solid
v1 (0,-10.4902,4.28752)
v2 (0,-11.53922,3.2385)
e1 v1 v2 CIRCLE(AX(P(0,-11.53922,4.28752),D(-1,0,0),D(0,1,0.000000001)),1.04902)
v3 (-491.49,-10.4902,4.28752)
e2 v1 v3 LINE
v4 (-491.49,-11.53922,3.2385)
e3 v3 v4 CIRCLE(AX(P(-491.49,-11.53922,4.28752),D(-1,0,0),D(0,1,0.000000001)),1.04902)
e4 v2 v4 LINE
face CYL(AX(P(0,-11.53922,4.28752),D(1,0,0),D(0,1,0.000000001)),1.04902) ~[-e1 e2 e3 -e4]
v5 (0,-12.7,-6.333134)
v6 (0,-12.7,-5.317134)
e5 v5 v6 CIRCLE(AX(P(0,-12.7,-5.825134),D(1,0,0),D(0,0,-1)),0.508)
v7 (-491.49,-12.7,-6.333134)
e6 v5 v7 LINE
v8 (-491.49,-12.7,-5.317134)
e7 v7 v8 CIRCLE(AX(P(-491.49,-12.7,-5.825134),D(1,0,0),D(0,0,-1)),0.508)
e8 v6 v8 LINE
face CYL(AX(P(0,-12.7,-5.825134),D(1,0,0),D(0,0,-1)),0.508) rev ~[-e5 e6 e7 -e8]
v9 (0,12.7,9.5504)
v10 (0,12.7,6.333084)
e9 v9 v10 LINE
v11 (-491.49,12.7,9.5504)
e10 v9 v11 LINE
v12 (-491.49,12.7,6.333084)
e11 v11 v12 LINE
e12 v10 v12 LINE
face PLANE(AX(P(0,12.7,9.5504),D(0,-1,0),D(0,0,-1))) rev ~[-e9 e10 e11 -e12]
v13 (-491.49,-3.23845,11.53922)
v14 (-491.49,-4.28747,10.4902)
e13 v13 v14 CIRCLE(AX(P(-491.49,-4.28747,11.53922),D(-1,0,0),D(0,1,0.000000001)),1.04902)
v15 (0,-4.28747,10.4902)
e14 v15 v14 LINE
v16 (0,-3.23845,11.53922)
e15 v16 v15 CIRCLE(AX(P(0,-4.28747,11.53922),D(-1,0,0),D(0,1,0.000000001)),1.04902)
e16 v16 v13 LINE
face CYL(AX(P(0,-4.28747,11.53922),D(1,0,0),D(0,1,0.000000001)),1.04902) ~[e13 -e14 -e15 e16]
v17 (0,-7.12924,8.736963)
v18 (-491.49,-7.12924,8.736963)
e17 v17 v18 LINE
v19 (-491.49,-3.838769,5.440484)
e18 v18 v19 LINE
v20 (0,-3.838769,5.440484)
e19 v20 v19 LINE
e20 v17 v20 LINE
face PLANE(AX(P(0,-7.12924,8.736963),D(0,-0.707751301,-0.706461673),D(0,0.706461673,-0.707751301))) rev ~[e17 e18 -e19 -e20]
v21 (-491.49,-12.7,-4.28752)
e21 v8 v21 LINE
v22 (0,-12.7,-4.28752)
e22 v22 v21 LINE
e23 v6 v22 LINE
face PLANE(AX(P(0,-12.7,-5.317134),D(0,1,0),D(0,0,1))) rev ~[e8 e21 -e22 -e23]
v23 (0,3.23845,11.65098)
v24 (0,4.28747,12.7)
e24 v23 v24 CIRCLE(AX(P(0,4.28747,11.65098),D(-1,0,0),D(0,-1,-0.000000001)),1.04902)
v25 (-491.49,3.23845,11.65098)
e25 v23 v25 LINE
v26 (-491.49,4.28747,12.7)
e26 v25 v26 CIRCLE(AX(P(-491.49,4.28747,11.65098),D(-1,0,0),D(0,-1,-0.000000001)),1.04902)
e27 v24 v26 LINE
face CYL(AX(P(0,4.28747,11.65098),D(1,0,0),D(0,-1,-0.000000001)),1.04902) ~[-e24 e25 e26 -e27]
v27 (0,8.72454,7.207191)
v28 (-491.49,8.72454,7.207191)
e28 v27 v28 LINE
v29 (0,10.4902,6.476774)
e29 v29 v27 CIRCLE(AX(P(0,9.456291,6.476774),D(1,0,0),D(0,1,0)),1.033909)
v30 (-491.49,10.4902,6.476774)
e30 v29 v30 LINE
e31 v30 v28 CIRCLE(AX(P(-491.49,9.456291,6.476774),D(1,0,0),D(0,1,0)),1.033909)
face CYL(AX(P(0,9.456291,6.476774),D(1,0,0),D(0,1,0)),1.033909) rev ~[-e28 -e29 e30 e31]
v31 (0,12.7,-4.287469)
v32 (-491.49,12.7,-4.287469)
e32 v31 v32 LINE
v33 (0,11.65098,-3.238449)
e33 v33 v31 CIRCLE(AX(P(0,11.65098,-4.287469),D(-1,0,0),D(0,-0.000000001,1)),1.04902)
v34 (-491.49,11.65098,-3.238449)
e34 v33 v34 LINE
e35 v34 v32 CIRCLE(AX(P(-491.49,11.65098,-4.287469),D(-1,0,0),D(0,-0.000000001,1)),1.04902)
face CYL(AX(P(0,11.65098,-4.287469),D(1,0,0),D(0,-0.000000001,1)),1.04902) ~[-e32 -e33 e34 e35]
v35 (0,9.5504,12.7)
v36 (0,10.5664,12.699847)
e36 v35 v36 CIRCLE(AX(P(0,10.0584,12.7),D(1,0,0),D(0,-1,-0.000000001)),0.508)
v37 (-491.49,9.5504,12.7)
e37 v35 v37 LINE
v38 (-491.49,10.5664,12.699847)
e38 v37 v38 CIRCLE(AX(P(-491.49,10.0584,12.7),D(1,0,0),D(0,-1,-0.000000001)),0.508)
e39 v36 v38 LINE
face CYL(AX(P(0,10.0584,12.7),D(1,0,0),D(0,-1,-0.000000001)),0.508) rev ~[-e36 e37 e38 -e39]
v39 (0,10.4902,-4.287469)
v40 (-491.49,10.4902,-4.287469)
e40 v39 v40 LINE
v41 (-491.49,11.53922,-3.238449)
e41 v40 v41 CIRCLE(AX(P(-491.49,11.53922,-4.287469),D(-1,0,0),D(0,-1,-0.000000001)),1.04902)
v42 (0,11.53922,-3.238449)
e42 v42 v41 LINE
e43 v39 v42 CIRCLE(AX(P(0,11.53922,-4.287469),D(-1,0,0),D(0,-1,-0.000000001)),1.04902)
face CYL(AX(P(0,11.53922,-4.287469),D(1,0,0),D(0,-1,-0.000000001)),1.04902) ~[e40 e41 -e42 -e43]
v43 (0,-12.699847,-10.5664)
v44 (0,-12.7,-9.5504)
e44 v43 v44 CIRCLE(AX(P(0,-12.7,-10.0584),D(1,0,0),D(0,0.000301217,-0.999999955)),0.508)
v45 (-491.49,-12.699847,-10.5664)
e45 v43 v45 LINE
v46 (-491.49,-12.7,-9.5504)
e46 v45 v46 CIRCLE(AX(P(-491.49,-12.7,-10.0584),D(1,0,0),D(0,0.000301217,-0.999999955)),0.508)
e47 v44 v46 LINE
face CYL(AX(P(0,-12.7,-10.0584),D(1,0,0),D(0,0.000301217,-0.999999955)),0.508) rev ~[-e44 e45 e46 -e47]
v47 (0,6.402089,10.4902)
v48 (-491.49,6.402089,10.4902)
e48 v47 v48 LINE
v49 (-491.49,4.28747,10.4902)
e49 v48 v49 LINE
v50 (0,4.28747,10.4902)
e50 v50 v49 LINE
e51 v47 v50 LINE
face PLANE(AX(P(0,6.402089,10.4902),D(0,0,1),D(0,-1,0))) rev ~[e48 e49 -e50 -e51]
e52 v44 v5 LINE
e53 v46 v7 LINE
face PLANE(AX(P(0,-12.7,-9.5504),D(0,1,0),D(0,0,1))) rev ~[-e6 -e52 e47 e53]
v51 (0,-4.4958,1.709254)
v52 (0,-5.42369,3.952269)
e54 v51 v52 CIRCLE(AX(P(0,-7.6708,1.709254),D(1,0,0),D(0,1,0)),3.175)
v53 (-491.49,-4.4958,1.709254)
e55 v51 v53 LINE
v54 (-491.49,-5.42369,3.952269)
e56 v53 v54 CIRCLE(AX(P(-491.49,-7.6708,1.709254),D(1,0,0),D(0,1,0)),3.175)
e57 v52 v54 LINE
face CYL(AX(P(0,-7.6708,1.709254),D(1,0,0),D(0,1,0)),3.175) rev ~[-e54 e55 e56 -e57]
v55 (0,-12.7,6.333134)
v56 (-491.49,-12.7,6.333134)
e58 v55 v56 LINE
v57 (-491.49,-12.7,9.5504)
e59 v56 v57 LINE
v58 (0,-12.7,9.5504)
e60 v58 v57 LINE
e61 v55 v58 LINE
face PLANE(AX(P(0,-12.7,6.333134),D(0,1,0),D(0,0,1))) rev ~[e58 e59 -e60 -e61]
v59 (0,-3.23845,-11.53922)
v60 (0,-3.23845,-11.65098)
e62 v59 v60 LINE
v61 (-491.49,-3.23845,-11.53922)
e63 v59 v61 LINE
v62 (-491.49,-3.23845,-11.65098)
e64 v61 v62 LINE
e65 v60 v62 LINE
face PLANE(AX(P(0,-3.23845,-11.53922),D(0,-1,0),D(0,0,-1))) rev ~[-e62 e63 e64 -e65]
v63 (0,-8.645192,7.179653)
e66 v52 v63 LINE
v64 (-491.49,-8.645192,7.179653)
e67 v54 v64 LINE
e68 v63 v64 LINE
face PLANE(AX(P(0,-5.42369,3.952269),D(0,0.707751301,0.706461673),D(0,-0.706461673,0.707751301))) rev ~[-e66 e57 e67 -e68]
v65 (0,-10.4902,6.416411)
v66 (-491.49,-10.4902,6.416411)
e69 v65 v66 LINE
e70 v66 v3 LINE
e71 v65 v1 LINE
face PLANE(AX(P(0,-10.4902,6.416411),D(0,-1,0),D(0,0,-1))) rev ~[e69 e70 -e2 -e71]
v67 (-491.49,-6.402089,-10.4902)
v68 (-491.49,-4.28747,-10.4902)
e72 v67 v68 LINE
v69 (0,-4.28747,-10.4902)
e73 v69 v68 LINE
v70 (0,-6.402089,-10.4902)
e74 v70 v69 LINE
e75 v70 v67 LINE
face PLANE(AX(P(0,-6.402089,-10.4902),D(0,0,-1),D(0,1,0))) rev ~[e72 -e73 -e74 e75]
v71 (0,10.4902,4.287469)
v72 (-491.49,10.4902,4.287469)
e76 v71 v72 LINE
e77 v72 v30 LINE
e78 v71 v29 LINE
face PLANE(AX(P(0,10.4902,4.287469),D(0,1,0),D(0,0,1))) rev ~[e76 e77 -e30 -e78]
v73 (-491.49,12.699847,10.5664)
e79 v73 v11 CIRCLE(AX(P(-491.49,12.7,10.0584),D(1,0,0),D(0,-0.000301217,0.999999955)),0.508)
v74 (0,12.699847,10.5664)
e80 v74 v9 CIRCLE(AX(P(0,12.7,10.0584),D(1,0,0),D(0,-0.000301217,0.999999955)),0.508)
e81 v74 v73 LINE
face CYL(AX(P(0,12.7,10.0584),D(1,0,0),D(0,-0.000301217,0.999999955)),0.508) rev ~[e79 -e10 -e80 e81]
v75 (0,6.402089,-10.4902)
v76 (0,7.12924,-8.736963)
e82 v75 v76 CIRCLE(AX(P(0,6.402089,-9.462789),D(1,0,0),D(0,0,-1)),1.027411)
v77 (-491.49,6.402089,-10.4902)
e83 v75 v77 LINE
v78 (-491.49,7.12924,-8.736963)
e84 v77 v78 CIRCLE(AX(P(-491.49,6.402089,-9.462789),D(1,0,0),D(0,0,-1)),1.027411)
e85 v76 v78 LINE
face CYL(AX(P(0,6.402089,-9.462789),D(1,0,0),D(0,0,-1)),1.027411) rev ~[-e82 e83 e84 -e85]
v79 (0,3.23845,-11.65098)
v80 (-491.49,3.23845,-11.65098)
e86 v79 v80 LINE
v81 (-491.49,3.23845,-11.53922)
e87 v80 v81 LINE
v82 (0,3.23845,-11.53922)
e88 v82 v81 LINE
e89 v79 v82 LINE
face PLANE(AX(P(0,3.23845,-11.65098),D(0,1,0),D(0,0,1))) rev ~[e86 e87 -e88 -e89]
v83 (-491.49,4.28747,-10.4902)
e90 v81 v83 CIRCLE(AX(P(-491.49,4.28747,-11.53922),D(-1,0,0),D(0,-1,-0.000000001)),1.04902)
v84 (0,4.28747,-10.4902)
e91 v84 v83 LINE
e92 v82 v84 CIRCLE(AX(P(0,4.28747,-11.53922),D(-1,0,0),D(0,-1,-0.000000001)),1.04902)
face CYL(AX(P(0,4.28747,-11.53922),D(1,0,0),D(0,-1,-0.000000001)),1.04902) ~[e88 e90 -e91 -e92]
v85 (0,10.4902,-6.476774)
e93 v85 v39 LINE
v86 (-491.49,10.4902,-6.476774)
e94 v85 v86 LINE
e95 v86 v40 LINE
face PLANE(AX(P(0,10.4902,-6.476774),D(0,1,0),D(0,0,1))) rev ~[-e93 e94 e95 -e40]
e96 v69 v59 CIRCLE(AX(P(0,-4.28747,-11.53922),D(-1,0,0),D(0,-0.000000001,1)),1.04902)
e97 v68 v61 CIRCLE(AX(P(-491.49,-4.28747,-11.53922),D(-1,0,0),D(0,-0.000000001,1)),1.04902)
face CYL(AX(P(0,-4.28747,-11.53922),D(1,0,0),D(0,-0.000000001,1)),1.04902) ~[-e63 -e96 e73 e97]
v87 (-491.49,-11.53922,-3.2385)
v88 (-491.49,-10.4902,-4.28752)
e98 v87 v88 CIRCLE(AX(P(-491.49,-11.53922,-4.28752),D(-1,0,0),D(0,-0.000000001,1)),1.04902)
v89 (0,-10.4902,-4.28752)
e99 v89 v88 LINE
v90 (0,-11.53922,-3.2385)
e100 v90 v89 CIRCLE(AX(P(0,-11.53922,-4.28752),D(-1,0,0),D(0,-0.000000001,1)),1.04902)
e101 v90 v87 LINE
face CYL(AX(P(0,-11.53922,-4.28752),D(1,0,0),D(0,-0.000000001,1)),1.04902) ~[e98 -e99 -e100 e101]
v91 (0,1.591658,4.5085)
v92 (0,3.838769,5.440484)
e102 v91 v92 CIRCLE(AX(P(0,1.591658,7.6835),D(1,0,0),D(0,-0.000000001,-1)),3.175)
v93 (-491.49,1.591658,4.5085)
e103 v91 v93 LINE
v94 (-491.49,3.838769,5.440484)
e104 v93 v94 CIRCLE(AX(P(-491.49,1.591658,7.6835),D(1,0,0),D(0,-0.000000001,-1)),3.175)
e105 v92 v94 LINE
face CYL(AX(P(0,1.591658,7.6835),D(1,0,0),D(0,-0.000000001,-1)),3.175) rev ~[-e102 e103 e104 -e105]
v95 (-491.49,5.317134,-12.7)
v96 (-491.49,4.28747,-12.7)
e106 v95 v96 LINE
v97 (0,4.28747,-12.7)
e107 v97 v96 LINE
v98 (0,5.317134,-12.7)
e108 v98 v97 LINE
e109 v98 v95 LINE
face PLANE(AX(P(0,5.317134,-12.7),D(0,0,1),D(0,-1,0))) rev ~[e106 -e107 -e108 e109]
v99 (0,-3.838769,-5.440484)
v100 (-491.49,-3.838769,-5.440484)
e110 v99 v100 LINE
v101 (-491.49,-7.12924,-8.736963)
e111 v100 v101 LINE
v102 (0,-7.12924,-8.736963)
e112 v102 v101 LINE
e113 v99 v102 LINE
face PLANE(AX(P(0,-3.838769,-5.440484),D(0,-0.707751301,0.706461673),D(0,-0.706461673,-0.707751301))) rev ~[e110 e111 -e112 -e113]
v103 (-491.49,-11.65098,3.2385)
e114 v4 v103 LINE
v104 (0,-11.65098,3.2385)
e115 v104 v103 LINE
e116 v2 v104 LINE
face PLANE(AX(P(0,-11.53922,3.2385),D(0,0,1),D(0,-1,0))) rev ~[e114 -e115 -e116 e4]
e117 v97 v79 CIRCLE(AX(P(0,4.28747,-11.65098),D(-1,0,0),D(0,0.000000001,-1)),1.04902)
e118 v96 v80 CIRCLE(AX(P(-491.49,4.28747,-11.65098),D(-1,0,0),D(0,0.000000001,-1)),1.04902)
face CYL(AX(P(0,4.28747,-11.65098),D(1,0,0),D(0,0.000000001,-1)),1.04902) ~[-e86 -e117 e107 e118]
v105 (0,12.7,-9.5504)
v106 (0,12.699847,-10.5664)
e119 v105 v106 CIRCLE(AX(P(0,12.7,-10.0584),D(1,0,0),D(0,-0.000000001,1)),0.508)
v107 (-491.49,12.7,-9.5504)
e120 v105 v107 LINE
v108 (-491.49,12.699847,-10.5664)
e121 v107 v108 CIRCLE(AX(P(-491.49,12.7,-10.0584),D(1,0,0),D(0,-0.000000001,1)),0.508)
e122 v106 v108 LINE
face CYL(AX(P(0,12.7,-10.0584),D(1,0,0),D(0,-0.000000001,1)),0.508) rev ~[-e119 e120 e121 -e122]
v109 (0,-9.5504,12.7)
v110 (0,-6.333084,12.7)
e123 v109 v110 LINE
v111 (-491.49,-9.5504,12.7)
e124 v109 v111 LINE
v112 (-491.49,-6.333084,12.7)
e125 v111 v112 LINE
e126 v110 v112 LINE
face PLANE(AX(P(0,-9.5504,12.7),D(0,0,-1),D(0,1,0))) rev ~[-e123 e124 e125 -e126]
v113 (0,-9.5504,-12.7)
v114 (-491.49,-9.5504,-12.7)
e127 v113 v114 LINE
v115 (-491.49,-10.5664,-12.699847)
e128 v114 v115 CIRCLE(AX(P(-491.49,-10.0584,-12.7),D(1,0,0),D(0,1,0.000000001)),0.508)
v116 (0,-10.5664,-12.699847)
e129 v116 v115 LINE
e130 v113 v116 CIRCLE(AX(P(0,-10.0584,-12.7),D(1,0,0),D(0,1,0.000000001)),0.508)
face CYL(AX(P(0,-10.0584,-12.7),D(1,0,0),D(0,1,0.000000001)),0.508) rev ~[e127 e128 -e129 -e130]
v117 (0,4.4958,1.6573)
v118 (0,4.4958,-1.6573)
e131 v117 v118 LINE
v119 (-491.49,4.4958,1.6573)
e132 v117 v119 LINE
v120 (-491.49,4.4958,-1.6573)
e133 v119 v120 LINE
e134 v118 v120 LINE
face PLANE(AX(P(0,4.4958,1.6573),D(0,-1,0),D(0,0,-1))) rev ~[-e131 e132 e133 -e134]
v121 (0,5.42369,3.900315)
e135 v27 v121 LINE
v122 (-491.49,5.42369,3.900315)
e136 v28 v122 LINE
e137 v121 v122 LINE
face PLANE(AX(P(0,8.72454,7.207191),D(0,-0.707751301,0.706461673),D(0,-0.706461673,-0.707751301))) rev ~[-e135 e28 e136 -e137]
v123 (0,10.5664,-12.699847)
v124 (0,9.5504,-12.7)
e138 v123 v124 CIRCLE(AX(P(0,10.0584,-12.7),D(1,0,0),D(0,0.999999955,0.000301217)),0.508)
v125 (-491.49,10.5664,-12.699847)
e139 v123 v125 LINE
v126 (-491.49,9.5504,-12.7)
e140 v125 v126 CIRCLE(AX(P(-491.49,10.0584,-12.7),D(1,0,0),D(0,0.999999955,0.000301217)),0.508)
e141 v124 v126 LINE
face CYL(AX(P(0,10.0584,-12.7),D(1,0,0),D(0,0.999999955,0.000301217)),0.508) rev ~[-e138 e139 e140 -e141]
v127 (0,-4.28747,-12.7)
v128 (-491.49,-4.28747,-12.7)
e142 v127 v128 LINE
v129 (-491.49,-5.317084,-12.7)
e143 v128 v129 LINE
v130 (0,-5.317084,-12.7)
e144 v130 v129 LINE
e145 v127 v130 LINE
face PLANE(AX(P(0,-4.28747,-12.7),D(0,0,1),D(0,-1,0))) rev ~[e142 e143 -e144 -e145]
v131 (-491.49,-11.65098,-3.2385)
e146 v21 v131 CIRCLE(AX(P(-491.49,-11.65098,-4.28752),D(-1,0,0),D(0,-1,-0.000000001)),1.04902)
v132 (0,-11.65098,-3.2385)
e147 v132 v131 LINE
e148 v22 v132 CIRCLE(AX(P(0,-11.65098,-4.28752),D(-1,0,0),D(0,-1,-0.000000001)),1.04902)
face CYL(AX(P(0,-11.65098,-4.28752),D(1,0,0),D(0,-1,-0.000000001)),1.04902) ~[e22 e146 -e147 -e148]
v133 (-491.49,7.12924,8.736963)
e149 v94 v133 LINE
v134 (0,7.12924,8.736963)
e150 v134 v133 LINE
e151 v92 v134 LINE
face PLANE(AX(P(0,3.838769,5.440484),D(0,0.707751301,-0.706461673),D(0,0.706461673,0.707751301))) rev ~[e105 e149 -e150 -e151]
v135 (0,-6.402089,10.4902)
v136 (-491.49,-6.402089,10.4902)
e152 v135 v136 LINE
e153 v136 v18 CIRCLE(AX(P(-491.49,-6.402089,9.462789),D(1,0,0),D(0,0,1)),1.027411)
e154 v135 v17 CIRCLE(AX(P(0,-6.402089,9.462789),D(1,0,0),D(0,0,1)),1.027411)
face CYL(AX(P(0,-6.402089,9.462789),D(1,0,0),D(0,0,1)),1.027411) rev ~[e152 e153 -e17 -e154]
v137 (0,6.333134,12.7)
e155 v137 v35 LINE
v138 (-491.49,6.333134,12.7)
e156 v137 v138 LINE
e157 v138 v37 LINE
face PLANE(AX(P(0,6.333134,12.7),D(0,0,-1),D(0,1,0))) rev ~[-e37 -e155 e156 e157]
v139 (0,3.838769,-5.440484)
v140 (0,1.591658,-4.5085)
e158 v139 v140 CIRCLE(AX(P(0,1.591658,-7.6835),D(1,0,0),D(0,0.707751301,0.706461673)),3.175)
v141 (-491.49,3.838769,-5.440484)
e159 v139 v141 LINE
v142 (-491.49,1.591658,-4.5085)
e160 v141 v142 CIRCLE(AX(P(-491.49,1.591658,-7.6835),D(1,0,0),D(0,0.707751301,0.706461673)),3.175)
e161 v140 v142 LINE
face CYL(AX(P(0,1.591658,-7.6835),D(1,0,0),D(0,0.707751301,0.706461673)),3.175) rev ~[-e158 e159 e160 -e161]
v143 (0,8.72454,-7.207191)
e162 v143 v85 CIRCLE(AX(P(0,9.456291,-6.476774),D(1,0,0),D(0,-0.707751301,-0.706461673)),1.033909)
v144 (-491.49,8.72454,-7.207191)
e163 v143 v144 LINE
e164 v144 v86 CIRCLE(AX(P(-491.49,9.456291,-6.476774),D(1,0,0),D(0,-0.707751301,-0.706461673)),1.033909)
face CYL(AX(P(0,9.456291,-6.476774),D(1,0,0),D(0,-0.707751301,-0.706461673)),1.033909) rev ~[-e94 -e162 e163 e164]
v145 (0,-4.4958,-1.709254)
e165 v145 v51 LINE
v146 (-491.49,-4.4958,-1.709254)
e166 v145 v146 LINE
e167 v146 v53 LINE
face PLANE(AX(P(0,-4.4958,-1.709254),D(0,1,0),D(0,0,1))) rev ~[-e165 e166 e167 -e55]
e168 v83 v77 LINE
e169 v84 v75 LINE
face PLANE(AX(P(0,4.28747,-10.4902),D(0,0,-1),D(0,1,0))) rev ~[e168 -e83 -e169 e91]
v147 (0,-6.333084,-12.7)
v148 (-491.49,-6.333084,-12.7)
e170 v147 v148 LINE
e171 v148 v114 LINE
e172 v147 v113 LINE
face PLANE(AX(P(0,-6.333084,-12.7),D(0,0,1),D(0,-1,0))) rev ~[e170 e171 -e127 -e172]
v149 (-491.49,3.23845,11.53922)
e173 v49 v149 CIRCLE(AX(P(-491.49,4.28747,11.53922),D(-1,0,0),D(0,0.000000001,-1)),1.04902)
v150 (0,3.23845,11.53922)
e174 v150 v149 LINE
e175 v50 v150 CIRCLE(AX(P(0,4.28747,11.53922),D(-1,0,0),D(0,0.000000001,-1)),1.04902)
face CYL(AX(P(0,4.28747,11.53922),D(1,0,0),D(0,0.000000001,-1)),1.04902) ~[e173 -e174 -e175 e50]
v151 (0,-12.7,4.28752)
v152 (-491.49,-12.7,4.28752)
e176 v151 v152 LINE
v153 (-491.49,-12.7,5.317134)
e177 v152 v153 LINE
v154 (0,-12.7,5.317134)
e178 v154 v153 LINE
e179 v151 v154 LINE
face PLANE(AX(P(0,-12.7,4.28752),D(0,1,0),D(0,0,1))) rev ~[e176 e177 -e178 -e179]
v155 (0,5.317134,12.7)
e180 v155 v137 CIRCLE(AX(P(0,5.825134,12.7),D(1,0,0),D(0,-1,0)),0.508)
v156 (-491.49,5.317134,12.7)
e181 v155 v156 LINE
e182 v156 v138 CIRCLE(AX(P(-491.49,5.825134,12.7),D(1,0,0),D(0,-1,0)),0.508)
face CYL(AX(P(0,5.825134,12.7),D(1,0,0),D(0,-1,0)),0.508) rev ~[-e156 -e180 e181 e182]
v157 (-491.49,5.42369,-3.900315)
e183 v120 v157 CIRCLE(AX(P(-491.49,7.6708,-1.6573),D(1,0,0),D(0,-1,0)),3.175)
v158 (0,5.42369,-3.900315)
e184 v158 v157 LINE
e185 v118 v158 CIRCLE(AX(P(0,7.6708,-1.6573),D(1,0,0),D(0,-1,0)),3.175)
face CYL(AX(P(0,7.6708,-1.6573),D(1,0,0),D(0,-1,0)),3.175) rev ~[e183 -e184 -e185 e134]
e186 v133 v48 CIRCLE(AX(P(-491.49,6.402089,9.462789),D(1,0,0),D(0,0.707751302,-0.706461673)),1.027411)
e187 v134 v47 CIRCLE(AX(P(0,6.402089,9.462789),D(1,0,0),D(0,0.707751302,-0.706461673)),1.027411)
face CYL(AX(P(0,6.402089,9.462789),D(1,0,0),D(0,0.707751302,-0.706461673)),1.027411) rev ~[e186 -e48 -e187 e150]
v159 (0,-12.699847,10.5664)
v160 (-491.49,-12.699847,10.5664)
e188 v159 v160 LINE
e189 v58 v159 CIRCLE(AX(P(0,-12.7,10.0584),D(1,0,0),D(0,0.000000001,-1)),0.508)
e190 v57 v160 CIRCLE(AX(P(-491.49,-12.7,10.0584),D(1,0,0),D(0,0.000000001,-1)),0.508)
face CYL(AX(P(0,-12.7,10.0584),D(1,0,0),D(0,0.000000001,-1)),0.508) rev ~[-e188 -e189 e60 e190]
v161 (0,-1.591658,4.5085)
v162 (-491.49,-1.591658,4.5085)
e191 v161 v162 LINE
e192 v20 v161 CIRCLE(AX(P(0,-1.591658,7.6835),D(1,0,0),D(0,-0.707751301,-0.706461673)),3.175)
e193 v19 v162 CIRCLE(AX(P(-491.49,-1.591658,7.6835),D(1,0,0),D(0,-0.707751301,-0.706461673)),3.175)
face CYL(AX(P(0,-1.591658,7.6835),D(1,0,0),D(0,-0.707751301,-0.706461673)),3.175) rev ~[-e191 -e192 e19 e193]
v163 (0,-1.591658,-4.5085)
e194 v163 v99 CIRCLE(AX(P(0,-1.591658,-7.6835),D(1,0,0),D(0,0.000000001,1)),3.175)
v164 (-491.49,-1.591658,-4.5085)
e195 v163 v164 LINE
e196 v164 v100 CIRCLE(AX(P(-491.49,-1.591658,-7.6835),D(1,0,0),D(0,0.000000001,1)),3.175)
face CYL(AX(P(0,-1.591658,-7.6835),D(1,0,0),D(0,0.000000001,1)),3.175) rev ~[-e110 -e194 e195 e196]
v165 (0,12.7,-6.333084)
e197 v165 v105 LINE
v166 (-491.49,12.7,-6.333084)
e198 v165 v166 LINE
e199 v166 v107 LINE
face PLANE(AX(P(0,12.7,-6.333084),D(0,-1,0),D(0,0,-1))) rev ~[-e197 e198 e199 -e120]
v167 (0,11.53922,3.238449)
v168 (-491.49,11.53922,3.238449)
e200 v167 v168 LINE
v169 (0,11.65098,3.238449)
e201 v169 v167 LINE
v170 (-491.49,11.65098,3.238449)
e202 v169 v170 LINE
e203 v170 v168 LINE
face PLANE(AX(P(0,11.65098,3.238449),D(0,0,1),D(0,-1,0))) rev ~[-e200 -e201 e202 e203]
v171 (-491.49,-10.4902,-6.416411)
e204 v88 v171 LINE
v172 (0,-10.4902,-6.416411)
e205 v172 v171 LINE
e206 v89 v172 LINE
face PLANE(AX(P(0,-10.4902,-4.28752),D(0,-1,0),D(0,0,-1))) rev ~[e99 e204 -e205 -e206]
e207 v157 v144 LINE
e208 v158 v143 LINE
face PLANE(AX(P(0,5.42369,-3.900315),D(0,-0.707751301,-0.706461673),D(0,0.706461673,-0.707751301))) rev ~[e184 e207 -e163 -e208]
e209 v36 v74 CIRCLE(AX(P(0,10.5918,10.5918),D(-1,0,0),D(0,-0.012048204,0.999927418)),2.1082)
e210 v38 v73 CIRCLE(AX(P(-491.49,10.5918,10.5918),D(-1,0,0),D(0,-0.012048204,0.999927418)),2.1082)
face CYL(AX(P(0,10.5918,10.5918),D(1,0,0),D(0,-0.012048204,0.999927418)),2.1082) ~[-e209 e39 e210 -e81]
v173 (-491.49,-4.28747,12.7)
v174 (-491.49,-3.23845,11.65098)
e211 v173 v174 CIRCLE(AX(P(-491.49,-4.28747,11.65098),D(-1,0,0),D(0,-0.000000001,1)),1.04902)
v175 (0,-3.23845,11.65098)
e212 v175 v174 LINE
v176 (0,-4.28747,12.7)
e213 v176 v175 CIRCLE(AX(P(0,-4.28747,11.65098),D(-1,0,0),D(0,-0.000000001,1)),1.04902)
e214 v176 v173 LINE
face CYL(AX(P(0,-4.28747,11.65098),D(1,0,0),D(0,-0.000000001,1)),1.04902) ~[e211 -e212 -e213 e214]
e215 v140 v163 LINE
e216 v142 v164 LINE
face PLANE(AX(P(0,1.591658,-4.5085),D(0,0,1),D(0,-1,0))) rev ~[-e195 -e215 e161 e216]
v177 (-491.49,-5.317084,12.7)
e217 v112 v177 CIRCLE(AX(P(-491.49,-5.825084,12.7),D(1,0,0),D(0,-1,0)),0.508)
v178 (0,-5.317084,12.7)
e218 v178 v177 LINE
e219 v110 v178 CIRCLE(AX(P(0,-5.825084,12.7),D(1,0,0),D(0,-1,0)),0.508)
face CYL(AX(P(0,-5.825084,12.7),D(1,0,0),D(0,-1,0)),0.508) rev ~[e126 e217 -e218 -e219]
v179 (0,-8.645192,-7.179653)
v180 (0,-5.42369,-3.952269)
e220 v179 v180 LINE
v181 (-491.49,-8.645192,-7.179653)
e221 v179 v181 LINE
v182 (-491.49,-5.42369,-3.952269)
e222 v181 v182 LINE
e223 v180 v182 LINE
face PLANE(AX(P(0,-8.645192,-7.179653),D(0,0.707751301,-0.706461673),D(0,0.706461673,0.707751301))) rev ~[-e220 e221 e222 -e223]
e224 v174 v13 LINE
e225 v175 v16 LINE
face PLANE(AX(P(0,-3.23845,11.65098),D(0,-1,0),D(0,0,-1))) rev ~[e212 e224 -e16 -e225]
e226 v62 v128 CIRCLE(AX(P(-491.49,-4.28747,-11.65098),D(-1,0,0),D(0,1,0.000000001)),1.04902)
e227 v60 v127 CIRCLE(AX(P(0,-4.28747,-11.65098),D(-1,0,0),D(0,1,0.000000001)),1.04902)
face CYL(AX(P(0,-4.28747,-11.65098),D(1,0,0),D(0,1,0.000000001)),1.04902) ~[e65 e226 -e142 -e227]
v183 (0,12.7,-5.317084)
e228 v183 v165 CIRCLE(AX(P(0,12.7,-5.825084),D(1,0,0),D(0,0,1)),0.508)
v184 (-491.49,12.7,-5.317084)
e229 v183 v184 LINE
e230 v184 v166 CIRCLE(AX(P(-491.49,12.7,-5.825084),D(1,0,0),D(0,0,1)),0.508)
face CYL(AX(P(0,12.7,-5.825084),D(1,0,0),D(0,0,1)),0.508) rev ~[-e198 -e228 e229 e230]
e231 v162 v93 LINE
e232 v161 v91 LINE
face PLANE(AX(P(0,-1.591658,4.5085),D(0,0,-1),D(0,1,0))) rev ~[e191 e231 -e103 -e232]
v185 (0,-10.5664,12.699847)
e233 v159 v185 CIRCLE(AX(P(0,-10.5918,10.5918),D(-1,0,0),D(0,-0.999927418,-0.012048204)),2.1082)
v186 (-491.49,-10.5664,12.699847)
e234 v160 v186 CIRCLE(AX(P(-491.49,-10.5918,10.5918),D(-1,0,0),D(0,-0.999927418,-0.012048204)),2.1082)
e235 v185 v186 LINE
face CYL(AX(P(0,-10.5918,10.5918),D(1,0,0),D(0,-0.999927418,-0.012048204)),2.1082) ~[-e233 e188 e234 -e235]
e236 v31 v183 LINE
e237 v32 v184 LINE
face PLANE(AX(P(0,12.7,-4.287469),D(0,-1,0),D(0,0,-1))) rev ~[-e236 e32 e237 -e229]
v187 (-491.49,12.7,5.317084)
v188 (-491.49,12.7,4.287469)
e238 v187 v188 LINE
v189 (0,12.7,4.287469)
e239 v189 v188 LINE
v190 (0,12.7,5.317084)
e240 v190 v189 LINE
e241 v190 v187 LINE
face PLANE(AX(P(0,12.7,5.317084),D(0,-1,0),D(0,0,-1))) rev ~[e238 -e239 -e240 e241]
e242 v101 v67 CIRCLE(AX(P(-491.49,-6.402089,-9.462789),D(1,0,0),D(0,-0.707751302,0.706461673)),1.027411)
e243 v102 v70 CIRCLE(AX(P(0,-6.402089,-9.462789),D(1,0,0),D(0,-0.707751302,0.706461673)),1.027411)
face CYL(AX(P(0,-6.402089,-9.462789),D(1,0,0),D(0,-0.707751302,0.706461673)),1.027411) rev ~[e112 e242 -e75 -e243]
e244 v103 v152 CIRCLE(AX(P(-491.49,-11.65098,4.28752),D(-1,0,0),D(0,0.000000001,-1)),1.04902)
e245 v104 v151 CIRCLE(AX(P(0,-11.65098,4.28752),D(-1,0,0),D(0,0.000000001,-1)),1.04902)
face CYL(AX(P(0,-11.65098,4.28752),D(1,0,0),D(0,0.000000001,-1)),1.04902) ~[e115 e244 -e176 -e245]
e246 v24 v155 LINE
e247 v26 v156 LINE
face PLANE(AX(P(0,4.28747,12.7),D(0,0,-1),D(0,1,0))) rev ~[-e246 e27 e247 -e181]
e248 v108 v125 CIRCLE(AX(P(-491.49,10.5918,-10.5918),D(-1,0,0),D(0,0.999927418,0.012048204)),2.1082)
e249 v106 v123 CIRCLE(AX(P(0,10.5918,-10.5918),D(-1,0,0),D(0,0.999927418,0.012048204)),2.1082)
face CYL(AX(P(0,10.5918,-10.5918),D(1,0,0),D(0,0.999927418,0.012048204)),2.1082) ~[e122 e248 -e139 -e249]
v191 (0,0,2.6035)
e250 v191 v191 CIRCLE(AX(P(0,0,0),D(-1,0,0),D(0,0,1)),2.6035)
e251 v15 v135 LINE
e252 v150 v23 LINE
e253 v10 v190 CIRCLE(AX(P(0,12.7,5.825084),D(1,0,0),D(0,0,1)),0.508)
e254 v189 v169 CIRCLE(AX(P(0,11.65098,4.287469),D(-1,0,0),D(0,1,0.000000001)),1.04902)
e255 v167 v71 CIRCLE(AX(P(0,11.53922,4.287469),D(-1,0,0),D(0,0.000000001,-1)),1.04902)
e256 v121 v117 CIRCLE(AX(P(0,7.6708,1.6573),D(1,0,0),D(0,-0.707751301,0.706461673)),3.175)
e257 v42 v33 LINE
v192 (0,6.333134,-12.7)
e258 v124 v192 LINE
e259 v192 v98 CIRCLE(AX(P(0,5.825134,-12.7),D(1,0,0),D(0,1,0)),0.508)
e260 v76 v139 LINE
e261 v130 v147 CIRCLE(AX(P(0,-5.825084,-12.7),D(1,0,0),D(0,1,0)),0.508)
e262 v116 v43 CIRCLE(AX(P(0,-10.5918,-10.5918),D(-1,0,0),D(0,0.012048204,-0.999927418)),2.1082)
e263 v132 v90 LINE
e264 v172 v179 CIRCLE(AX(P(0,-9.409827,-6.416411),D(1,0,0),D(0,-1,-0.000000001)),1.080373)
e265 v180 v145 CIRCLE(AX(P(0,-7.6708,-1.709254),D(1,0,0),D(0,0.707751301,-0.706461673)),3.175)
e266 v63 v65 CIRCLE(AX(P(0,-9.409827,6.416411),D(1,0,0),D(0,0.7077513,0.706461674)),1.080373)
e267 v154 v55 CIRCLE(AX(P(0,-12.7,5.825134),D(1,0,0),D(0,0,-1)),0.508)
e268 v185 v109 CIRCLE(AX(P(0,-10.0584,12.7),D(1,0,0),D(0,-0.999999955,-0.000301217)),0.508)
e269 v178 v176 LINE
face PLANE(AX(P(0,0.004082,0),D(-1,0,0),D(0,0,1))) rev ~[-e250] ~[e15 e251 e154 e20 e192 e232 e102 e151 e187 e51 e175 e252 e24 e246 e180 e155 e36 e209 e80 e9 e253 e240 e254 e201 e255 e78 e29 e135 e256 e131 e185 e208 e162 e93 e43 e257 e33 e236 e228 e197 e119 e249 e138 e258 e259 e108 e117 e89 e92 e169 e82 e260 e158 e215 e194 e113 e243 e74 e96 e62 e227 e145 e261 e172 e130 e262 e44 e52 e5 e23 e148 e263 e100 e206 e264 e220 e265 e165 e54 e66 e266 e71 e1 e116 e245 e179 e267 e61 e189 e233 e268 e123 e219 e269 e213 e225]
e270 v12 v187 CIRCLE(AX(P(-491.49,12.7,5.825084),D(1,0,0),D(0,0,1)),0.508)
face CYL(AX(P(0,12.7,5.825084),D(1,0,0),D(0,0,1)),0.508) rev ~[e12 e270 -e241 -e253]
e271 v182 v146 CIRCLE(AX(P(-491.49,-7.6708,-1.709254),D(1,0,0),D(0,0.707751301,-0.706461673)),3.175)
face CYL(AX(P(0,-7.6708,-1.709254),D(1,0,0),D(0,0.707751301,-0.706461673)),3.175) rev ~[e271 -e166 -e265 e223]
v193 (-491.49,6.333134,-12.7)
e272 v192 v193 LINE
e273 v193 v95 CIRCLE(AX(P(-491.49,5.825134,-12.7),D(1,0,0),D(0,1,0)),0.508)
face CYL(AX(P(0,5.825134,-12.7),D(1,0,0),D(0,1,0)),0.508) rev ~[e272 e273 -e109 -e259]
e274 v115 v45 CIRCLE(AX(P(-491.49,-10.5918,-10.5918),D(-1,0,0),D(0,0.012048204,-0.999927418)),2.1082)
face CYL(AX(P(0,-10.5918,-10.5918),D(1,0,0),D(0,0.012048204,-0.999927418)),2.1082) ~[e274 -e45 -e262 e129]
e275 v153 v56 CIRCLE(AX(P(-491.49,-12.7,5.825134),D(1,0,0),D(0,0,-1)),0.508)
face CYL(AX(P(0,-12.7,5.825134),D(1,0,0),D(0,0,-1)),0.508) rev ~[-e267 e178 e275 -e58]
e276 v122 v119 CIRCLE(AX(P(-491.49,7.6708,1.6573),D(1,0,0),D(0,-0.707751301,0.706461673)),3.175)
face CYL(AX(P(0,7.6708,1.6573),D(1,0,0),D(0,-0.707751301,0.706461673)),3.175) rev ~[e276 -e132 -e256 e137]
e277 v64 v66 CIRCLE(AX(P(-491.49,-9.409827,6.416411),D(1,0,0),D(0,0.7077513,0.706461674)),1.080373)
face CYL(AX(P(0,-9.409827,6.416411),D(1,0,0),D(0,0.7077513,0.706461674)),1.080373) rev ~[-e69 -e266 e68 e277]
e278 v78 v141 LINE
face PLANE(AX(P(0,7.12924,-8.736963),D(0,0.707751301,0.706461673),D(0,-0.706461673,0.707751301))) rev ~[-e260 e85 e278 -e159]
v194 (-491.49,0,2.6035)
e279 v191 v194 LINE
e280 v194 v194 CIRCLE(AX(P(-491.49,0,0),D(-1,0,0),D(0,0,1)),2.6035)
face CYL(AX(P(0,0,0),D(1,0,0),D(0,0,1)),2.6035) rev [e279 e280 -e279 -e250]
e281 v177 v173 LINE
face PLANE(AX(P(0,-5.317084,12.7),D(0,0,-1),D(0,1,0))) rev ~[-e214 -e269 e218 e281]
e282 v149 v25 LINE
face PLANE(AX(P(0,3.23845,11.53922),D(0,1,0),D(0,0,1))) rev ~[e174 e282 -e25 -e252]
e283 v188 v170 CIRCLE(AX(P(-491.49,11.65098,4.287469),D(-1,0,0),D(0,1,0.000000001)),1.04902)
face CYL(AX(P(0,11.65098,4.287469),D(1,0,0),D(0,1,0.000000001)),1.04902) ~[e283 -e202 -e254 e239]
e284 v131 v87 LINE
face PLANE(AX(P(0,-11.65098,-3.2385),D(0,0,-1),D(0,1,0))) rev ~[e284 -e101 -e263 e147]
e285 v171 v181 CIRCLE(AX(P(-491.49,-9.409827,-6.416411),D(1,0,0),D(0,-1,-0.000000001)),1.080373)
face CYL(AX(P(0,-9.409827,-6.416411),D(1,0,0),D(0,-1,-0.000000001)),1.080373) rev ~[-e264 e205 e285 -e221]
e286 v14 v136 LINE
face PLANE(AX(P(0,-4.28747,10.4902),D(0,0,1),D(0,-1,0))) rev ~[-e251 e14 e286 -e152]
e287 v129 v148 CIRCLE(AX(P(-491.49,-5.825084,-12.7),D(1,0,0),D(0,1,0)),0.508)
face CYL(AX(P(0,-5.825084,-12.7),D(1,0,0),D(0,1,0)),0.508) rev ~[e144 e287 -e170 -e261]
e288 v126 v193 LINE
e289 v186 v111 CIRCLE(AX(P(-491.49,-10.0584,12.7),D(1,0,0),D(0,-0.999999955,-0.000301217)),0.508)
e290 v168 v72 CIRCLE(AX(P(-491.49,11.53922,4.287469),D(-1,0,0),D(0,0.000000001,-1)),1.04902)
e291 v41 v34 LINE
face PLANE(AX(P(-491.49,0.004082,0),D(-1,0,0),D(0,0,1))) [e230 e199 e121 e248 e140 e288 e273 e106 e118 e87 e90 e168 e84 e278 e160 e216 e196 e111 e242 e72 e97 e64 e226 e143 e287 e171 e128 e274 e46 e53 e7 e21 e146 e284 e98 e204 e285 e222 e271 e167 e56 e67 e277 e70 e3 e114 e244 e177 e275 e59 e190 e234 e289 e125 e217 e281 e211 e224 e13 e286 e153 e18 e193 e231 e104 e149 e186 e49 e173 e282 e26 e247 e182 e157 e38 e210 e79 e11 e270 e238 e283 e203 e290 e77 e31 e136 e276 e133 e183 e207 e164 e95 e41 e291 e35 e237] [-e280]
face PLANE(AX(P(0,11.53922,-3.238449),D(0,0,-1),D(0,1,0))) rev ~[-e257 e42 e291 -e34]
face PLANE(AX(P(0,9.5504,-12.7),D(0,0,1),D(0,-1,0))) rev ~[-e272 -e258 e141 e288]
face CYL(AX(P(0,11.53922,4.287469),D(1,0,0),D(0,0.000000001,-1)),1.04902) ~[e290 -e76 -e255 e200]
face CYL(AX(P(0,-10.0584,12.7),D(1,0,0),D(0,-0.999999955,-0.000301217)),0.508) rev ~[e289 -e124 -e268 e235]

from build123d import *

# Parameters (mm, degrees)
SKETCH14_R                = 2.6035
F_10_1010_PROFILE_1_DEPTH = 491.49


with BuildPart() as part:
    # Sketch14 → 10 1010 PROFILE(1) (new body)
    with BuildSketch(Plane.ZY):
        with BuildLine():
            Line((-1.709253557, -4.4958), (1.709253557, -4.4958))
            ThreePointArc((1.709253557, -4.4958), (2.922935876, -4.736928798), (3.95226937, -5.423689619))
            Line((3.95226937, -5.423689619), (7.179652728, -8.645192207))
            ThreePointArc((7.179652728, -8.645192207), (7.414733441, -9.822812921), (6.41641086, -10.4902))
            Line((6.41641086, -10.4902), (4.28752, -10.4902))
            ThreePointArc((4.28752, -10.4902), (3.545750844, -10.797450844), (3.2385, -11.53922))
            Line((3.2385, -11.53922), (3.2385, -11.65098))
            ThreePointArc((3.2385, -11.65098), (3.545750844, -12.392749156), (4.28752, -12.7))
            Line((4.28752, -12.7), (5.3171344, -12.7))
            ThreePointArc((5.3171344, -12.7), (5.8251344, -12.192), (6.3331344, -12.7))
            Line((6.3331344, -12.7), (9.5504, -12.7))
            ThreePointArc((9.5504, -12.7), (10.058323491, -12.192000006), (10.566399977, -12.699846982))
            ThreePointArc((10.566399977, -12.699846982), (12.082522516, -12.082522516), (12.699846982, -10.566399977))
            ThreePointArc((12.699846982, -10.566399977), (12.192000006, -10.058323491), (12.7, -9.5504))
            Line((12.7, -9.5504), (12.7, -6.3330836))
            ThreePointArc((12.7, -6.3330836), (12.192, -5.8250836), (12.7, -5.3170836))
            Line((12.7, -5.3170836), (12.7, -4.287470133))
            ThreePointArc((12.7, -4.287470133), (12.392749156, -3.545700977), (11.65098, -3.238450133))
            Line((11.65098, -3.238450133), (11.53922, -3.238450133))
            ThreePointArc((11.53922, -3.238450133), (10.797450844, -3.545700977), (10.4902, -4.287470133))
            Line((10.4902, -4.287470133), (10.4902, -6.402089023))
            ThreePointArc((10.4902, -6.402089023), (9.856394933, -7.351113629), (8.736962546, -7.129240479))
            Line((8.736962546, -7.129240479), (5.440484187, -3.838768792))
            ThreePointArc((5.440484187, -3.838768792), (4.75073678, -2.808015636), (4.5085, -1.591658411))
            Line((4.5085, -1.591658411), (4.5085, 1.591658411))
            ThreePointArc((4.5085, 1.591658411), (4.75073678, 2.808015636), (5.440484187, 3.838768792))
            Line((5.440484187, 3.838768792), (8.736962546, 7.129240479))
            ThreePointArc((8.736962546, 7.129240479), (9.856394933, 7.351113629), (10.4902, 6.402089023))
            Line((10.4902, 6.402089023), (10.4902, 4.287470133))
            ThreePointArc((10.4902, 4.287470133), (10.797450844, 3.545700977), (11.53922, 3.238450133))
            Line((11.53922, 3.238450133), (11.65098, 3.238450133))
            ThreePointArc((11.65098, 3.238450133), (12.392749156, 3.545700977), (12.7, 4.287470133))
            Line((12.7, 4.287470133), (12.7, 5.3171344))
            ThreePointArc((12.7, 5.3171344), (12.192, 5.8251344), (12.7, 6.3331344))
            Line((12.7, 6.3331344), (12.7, 9.5504))
            ThreePointArc((12.7, 9.5504), (12.192000006, 10.058323491), (12.699846982, 10.566399977))
            ThreePointArc((12.699846982, 10.566399977), (12.082522516, 12.082522516), (10.566399977, 12.699846982))
            ThreePointArc((10.566399977, 12.699846982), (10.058323491, 12.192000006), (9.5504, 12.7))
            Line((9.5504, 12.7), (6.3330836, 12.7))
            ThreePointArc((6.3330836, 12.7), (5.8250836, 12.192), (5.3170836, 12.7))
            Line((5.3170836, 12.7), (4.2874692, 12.7))
            ThreePointArc((4.2874692, 12.7), (3.545700044, 12.392749156), (3.2384492, 11.65098))
            Line((3.2384492, 11.65098), (3.2384492, 11.53922))
            ThreePointArc((3.2384492, 11.53922), (3.545700044, 10.797450844), (4.2874692, 10.4902))
            Line((4.2874692, 10.4902), (6.476774195, 10.4902))
            ThreePointArc((6.476774195, 10.4902), (7.43216212, 9.851515102), (7.207191475, 8.724540082))
            Line((7.207191475, 8.724540082), (3.900315394, 5.423689619))
            ThreePointArc((3.900315394, 5.423689619), (2.8709819, 4.736928798), (1.657299581, 4.4958))
            Line((1.657299581, 4.4958), (-1.657299581, 4.4958))
            ThreePointArc((-1.657299581, 4.4958), (-2.8709819, 4.736928798), (-3.900315394, 5.423689619))
            Line((-3.900315394, 5.423689619), (-7.207191475, 8.724540082))
            ThreePointArc((-7.207191475, 8.724540082), (-7.43216212, 9.851515102), (-6.476774195, 10.4902))
            Line((-6.476774195, 10.4902), (-4.2874692, 10.4902))
            ThreePointArc((-4.2874692, 10.4902), (-3.545700044, 10.797450844), (-3.2384492, 11.53922))
            Line((-3.2384492, 11.53922), (-3.2384492, 11.65098))
            ThreePointArc((-3.2384492, 11.65098), (-3.545700044, 12.392749156), (-4.2874692, 12.7))
            Line((-4.2874692, 12.7), (-5.3170836, 12.7))
            ThreePointArc((-5.3170836, 12.7), (-5.8250836, 12.192), (-6.3330836, 12.7))
            Line((-6.3330836, 12.7), (-9.5504, 12.7))
            ThreePointArc((-9.5504, 12.7), (-10.058323491, 12.192000006), (-10.566399977, 12.699846982))
            ThreePointArc((-10.566399977, 12.699846982), (-12.082522516, 12.082522516), (-12.699846982, 10.566399977))
            ThreePointArc((-12.699846982, 10.566399977), (-12.192000006, 10.058323491), (-12.7, 9.5504))
            Line((-12.7, 9.5504), (-12.7, 6.3331344))
            ThreePointArc((-12.7, 6.3331344), (-12.192, 5.8251344), (-12.7, 5.3171344))
            Line((-12.7, 5.3171344), (-12.7, 4.287470133))
            ThreePointArc((-12.7, 4.287470133), (-12.392749156, 3.545700977), (-11.65098, 3.238450133))
            Line((-11.65098, 3.238450133), (-11.53922, 3.238450133))
            ThreePointArc((-11.53922, 3.238450133), (-10.797450844, 3.545700977), (-10.4902, 4.287470133))
            Line((-10.4902, 4.287470133), (-10.4902, 6.402089023))
            ThreePointArc((-10.4902, 6.402089023), (-9.856394933, 7.351113629), (-8.736962546, 7.129240479))
            Line((-8.736962546, 7.129240479), (-5.440484187, 3.838768792))
            ThreePointArc((-5.440484187, 3.838768792), (-4.75073678, 2.808015636), (-4.5085, 1.591658411))
            Line((-4.5085, 1.591658411), (-4.5085, -1.591658411))
            ThreePointArc((-4.5085, -1.591658411), (-4.75073678, -2.808015636), (-5.440484187, -3.838768792))
            Line((-5.440484187, -3.838768792), (-8.736962546, -7.129240479))
            ThreePointArc((-8.736962546, -7.129240479), (-9.856394933, -7.351113629), (-10.4902, -6.402089023))
            Line((-10.4902, -6.402089023), (-10.4902, -4.287470133))
            ThreePointArc((-10.4902, -4.287470133), (-10.797450844, -3.545700977), (-11.53922, -3.238450133))
            Line((-11.53922, -3.238450133), (-11.65098, -3.238450133))
            ThreePointArc((-11.65098, -3.238450133), (-12.392749156, -3.545700977), (-12.7, -4.287470133))
            Line((-12.7, -4.287470133), (-12.7, -5.3170836))
            ThreePointArc((-12.7, -5.3170836), (-12.192, -5.8250836), (-12.7, -6.3330836))
            Line((-12.7, -6.3330836), (-12.7, -9.5504))
            ThreePointArc((-12.7, -9.5504), (-12.192000006, -10.058323491), (-12.699846982, -10.566399977))
            ThreePointArc((-12.699846982, -10.566399977), (-12.082522516, -12.082522516), (-10.566399977, -12.699846982))
            ThreePointArc((-10.566399977, -12.699846982), (-10.058323491, -12.192000006), (-9.5504, -12.7))
            Line((-9.5504, -12.7), (-6.3331344, -12.7))
            ThreePointArc((-6.3331344, -12.7), (-5.8251344, -12.192), (-5.3171344, -12.7))
            Line((-5.3171344, -12.7), (-4.28752, -12.7))
            ThreePointArc((-4.28752, -12.7), (-3.545750844, -12.392749156), (-3.2385, -11.65098))
            Line((-3.2385, -11.65098), (-3.2385, -11.53922))
            ThreePointArc((-3.2385, -11.53922), (-3.545750844, -10.797450844), (-4.28752, -10.4902))
            Line((-4.28752, -10.4902), (-6.41641086, -10.4902))
            ThreePointArc((-6.41641086, -10.4902), (-7.414733441, -9.822812921), (-7.179652728, -8.645192207))
            Line((-7.179652728, -8.645192207), (-3.95226937, -5.423689619))
            ThreePointArc((-3.95226937, -5.423689619), (-2.922935876, -4.736928798), (-1.709253557, -4.4958))
        make_face()
        Circle(SKETCH14_R, mode=Mode.SUBTRACT)
    extrude(amount=F_10_1010_PROFILE_1_DEPTH)


solid = part.part
